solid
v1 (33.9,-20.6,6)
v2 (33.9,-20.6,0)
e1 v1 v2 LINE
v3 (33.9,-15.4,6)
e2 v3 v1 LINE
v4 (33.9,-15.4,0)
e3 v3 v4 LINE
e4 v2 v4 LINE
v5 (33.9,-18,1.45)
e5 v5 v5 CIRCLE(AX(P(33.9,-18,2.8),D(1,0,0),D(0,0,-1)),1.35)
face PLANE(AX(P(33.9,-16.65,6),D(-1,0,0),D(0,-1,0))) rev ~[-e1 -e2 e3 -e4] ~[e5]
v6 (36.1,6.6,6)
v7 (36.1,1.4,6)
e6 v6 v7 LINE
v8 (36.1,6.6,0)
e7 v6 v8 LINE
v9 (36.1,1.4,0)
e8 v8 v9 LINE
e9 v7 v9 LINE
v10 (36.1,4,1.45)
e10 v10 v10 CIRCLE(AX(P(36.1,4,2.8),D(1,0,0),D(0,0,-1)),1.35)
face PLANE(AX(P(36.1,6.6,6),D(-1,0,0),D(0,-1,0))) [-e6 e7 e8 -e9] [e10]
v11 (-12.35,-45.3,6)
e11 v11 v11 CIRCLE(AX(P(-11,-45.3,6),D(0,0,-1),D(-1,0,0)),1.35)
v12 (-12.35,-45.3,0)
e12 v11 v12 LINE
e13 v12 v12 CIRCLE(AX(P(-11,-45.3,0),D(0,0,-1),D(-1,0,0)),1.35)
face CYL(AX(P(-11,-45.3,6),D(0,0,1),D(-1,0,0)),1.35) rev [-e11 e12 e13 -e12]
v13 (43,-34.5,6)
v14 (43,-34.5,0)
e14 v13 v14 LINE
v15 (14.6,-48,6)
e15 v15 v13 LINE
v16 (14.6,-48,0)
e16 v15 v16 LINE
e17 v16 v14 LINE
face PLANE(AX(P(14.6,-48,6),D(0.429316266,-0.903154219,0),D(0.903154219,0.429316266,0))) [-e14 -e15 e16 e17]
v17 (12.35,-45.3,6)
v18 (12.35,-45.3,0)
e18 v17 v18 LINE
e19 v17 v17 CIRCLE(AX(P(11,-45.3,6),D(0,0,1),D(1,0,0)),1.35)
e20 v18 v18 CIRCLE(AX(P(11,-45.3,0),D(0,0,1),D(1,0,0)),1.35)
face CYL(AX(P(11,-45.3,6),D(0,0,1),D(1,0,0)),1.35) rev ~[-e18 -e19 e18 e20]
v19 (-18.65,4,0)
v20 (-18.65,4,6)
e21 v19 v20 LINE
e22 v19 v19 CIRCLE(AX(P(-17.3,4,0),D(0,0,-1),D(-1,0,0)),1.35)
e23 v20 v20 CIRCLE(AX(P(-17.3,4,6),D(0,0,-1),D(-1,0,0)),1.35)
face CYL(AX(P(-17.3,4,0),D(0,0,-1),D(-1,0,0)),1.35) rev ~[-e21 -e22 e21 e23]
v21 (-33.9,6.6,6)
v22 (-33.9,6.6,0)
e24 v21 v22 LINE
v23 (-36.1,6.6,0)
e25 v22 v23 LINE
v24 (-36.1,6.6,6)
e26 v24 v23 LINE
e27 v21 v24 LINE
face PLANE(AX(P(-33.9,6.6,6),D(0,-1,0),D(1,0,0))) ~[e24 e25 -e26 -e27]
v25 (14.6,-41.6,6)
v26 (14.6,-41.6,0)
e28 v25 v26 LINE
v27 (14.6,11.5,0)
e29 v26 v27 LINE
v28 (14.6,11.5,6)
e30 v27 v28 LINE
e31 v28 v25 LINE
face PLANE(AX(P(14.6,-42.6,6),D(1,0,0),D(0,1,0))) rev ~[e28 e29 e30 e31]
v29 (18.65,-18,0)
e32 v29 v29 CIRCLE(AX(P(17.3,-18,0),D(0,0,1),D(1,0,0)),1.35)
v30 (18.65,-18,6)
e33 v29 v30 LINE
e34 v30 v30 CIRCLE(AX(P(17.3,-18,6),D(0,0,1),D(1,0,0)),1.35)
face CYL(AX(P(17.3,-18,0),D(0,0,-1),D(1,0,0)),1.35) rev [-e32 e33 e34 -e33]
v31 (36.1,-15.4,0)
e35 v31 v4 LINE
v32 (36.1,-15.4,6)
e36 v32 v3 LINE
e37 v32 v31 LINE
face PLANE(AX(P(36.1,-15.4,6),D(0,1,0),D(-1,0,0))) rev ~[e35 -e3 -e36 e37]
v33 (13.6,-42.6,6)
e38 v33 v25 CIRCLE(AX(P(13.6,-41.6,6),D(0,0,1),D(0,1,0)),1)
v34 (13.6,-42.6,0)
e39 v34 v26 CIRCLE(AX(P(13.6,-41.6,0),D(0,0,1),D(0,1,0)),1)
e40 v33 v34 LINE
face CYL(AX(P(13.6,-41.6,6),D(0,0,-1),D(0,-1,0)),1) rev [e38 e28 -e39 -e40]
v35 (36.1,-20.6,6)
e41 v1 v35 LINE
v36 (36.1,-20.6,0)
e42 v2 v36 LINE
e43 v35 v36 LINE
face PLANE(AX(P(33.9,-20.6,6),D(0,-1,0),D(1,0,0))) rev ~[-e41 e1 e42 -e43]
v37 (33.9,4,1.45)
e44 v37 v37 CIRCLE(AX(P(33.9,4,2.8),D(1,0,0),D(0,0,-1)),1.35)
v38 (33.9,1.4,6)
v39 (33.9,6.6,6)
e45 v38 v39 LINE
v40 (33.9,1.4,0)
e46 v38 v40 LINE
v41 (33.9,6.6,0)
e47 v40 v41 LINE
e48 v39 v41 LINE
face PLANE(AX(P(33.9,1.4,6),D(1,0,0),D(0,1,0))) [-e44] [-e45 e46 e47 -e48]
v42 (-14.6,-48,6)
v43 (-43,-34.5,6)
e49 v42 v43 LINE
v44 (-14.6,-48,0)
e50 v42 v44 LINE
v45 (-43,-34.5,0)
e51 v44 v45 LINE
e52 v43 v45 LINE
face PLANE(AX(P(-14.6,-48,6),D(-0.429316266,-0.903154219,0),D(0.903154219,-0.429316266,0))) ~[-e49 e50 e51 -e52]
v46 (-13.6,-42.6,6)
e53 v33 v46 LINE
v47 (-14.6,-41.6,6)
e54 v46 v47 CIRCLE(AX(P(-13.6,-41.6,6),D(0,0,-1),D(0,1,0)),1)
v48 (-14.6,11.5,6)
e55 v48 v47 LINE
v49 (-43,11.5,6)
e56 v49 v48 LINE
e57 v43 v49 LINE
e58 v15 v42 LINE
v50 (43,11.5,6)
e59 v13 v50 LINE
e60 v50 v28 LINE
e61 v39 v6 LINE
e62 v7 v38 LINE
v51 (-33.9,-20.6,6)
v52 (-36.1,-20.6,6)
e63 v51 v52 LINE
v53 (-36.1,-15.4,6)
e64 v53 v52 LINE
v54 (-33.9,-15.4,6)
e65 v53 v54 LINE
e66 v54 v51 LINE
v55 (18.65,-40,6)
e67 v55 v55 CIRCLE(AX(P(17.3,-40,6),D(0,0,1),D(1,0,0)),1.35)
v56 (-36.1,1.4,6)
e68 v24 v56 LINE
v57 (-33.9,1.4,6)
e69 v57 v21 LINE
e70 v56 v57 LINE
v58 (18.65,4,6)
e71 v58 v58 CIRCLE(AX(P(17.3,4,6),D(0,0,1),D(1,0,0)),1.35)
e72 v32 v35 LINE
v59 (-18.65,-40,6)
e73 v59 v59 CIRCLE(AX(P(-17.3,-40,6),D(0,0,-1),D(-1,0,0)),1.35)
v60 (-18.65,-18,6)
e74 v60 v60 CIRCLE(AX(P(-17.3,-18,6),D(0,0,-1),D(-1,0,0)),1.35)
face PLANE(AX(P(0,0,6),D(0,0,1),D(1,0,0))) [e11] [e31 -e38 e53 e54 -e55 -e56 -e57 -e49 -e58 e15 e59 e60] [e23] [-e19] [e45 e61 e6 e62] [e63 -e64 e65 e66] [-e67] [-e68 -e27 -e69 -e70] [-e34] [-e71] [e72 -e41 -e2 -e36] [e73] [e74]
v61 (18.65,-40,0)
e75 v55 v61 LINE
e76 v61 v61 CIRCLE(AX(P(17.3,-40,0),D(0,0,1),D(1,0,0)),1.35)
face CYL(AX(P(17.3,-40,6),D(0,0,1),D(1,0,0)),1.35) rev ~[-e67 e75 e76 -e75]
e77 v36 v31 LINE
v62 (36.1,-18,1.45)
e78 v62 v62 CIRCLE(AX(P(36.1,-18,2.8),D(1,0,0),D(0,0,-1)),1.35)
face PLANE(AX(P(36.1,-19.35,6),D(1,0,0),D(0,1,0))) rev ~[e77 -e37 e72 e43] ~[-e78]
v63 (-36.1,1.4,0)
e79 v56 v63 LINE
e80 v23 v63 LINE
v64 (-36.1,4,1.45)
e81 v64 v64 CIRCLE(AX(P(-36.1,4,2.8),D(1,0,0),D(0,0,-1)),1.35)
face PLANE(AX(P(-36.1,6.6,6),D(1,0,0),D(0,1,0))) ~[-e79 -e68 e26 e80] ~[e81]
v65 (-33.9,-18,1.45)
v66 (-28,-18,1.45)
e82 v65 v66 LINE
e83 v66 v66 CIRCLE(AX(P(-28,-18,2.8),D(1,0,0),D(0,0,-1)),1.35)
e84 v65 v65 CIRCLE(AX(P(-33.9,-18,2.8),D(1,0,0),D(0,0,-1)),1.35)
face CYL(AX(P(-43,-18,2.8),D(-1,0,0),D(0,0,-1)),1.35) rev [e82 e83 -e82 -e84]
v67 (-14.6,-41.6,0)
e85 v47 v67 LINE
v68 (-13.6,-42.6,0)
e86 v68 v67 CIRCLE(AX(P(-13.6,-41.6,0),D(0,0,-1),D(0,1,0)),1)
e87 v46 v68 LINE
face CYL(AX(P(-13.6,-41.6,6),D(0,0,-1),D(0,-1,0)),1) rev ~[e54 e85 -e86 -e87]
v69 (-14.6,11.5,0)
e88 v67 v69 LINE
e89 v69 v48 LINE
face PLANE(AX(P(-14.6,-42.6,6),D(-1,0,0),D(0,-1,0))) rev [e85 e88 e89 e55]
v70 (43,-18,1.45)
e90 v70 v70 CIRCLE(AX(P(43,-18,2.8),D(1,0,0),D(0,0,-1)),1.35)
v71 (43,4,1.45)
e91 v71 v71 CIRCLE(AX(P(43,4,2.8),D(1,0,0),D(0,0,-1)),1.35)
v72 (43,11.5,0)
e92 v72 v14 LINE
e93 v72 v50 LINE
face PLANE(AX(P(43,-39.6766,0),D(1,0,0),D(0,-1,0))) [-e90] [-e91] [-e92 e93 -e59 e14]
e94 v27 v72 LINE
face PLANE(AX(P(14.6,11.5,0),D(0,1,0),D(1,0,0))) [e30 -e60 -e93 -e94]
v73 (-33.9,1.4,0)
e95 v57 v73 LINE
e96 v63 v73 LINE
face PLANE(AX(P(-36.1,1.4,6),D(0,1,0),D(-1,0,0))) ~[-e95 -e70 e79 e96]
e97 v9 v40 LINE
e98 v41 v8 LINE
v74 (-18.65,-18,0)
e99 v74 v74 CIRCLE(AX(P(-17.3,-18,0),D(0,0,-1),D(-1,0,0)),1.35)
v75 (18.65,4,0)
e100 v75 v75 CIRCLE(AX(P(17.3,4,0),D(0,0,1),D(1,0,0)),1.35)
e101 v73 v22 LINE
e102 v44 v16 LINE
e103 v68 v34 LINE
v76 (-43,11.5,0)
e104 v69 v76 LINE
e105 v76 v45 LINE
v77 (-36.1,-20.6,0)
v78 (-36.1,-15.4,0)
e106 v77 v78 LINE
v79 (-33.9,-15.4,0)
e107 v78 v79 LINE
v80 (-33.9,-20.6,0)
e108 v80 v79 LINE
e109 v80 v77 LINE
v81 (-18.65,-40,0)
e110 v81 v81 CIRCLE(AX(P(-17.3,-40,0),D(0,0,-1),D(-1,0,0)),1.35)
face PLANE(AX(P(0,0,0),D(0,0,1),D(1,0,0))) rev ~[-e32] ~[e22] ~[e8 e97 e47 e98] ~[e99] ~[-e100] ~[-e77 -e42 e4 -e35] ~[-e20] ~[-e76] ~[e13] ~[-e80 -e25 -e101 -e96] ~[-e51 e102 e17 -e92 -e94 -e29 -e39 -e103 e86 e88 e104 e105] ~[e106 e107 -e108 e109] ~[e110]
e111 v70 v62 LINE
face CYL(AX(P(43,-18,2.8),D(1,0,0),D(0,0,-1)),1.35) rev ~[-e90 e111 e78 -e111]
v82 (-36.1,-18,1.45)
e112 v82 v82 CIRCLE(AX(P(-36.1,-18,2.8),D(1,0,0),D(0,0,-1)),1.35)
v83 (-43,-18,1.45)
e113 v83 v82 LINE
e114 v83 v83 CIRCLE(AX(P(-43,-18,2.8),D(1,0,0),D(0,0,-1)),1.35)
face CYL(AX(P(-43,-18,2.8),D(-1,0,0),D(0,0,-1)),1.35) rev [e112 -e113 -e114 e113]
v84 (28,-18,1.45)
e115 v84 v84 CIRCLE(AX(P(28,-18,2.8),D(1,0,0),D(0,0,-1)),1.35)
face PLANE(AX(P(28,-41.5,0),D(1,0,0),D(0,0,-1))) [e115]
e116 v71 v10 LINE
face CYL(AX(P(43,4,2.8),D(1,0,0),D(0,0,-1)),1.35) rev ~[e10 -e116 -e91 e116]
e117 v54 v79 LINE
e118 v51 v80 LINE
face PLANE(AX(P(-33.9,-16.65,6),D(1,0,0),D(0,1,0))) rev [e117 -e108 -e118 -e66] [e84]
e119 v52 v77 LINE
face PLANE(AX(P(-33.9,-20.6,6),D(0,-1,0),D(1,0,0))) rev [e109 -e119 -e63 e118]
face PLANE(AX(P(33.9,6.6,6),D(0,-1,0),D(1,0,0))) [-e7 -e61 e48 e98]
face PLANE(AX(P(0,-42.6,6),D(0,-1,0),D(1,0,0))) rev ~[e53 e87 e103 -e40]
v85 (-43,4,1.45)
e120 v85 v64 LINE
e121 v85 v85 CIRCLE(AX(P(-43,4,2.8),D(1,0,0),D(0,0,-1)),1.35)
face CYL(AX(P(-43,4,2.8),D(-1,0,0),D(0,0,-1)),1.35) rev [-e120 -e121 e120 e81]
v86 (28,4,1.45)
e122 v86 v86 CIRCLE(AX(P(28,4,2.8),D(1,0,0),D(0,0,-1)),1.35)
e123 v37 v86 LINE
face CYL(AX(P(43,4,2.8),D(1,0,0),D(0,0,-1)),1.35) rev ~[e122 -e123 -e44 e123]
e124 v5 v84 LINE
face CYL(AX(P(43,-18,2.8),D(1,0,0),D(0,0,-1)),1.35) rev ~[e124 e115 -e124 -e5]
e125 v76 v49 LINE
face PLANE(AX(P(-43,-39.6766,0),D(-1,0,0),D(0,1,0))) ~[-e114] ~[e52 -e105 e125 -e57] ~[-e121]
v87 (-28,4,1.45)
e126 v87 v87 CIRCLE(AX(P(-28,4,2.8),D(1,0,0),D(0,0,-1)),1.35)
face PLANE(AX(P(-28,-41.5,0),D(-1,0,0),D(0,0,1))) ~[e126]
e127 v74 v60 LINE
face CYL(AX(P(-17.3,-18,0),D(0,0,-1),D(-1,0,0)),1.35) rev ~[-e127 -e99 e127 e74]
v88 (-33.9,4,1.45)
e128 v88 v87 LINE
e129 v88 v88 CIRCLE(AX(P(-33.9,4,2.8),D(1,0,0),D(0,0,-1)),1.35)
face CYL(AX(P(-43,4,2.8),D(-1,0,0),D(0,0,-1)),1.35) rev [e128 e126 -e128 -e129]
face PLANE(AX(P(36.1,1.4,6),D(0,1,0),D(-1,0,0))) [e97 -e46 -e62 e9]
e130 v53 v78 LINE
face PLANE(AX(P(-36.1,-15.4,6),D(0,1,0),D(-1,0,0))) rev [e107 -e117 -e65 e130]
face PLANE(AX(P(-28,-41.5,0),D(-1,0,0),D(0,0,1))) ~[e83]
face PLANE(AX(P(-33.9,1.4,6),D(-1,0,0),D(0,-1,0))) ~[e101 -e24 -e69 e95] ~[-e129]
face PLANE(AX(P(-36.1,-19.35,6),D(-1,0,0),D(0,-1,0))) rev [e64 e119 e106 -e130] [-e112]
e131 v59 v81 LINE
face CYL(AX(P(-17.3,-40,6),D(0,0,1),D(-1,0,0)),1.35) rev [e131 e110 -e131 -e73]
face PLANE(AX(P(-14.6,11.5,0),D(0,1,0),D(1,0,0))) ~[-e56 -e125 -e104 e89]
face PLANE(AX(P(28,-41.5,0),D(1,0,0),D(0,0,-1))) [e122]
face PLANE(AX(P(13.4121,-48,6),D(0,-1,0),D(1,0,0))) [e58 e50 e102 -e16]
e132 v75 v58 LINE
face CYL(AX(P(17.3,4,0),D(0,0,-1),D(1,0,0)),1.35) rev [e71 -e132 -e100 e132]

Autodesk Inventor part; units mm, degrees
ref_plane "YZ Plane" through (0, 0, 0) normal (1, 0, 0) x (0, 1, 0)
ref_plane "XZ Plane" through (0, 0, 0) normal (0, 1, 0) x (-1, 0, 0)
ref_plane "XY Plane" through (0, 0, 0) normal (0, 0, 1) x (1, 0, 0)
ref_plane "작업 평면1" through (0, 0, 0) normal (0, 0, 1) x (1, 0, 0)
sketch "스케치1" plane through (0, 0, 0) normal (0, 0, 1) x (1, 0, 0)
  arc A0 (20.1, 4.5766) -> (19.5808, 6.2636) centre (17.1, 4.5766) ccw projected
  line L0 (19.5808, 6.2636) -> (15.5953, 12.1246) projected
  arc A1 (15.5953, 12.1246) -> (13.9414, 13) centre (13.9414, 11) ccw projected
  line L1 (13, 13) -> (13.9414, 13) projected
  arc A2 (14.5, 11.5) -> (13, 13) centre (13, 11.5) ccw projected
  line L2 (14.5, -41.5) -> (14.5, 11.5) projected
  arc A3 (13.5, -42.5) -> (14.5, -41.5) centre (13.5, -41.5) ccw projected
  line L3 (-13.5, -42.5) -> (13.5, -42.5) projected
  arc A4 (-14.5, -41.5) -> (-13.5, -42.5) centre (-13.5, -41.5) ccw projected
  line L4 (-14.5, 11.5) -> (-14.5, -41.5) projected
  arc A5 (-13, 13) -> (-14.5, 11.5) centre (-13, 11.5) ccw projected
  line L5 (-13.9414, 13) -> (-13, 13) projected
  arc A6 (-13.9414, 13) -> (-15.5953, 12.1246) centre (-13.9414, 11) ccw projected
  line L6 (-15.5953, 12.1246) -> (-19.5808, 6.2636) projected
  arc A7 (-19.5808, 6.2636) -> (-20.1, 4.5766) centre (-17.1, 4.5766) ccw projected
  line L7 (-20.1, 4.5766) -> (-20.1, -39.6766) projected
  arc A8 (-20.1, -39.6766) -> (-19.5808, -41.3636) centre (-17.1, -39.6766) ccw projected
  line L8 (-19.5808, -41.3636) -> (-15.8929, -46.7869) projected
  arc A9 (-15.8929, -46.7869) -> (-13.4121, -48.1) centre (-13.4121, -45.1) ccw projected
  line L9 (-13.4121, -48.1) -> (13.4121, -48.1) projected
  arc A10 (13.4121, -48.1) -> (15.8929, -46.7869) centre (13.4121, -45.1) ccw projected
  line L10 (15.8929, -46.7869) -> (19.5808, -41.3636) projected
  arc A11 (19.5808, -41.3636) -> (20.1, -39.6766) centre (17.1, -39.6766) ccw projected
  line L11 (20.1, -39.6766) -> (20.1, 4.5766) projected
  circle A12 centre (-17.3, 4) radius 1.35 projected
  circle A13 centre (-17.3, -18) radius 1.35 projected
  circle A14 centre (-11, -45.3) radius 1.35 projected
  circle A15 centre (17.3, 4) radius 1.35 projected
  circle A16 centre (17.3, -18) radius 1.35 projected
  circle A17 centre (11, -45.3) radius 1.35 projected
  circle A18 centre (-17.3, -40) radius 1.35 projected
  circle A19 centre (17.3, -40) radius 1.35 projected
  arc A20 (14.6, 11.5) -> (12.2254, 12.9) centre (13, 11.5) ccw
  line L12 (12.2254, 12.9) -> (13.9414, 12.9)
  arc A21 (15.5126, 12.0684) -> (13.9414, 12.9) centre (13.9414, 11) ccw
  line L13 (15.5126, 12.0684) -> (15.8991, 11.5)
  line L14 (19.3671, -41.5) -> (15.8102, -46.7307)
  arc A22 (13.4121, -48) -> (15.8102, -46.7307) centre (13.4121, -45.1) ccw
  line L15 (13.4121, -48) -> (-13.4121, -48)
  arc A23 (-15.8102, -46.7307) -> (-13.4121, -48) centre (-13.4121, -45.1) ccw
  line L16 (-15.8102, -46.7307) -> (-19.4981, -41.3073)
  arc A24 (-20, -39.6766) -> (-19.4981, -41.3073) centre (-17.1, -39.6766) ccw
  line L17 (-20, -39.6766) -> (-20, 4.5766)
  arc A25 (-19.4981, 6.2073) -> (-20, 4.5766) centre (-17.1, 4.5766) ccw
  line L18 (-19.4981, 6.2073) -> (-15.5126, 12.0684)
  arc A26 (-13.9414, 12.9) -> (-15.5126, 12.0684) centre (-13.9414, 11) ccw
  line L19 (-13.9414, 12.9) -> (-12.2254, 12.9)
  arc A27 (-12.2254, 12.9) -> (-14.6, 11.5) centre (-13, 11.5) ccw
  line L20 (-14.6, 11.5) -> (-14.6, -41.5)
  arc A28 (-14.6, -41.5) -> (-13.5, -42.6) centre (-13.5, -41.5) ccw
  line L21 (-13.5, -42.6) -> (13.5, -42.6)
  arc A29 (13.5, -42.6) -> (14.6, -41.5) centre (13.5, -41.5) ccw
  line L22 (14.6, -41.5) -> (14.6, 11.5)
  line L23 (14.6, 11.5) -> (39.6, 11.5)
  line L24 (39.6, -41.5) -> (14.6, -41.5)
  line L25 (14.6, -41.5) -> (14.6, 11.5)
  circle A30 centre (17.3, 4) radius 1.35
  circle A31 centre (17.3, -18) radius 1.35
  line L26 (45.5, -39.6766) -> (45.5, -37.525) projected
  line L27 (47.5, -37.525) -> (45.5, -37.525) projected
  line L28 (47.5, -36.025) -> (47.5, -37.525) projected
  line L29 (47.5, -36.025) -> (45, -36.025) projected
  line L30 (45, -36.025) -> (45, -21.975) projected
  line L31 (47.5, -21.975) -> (45, -21.975) projected
  line L32 (47.5, -21.975) -> (47.5, -20.475) projected
  line L33 (47.5, -20.475) -> (45.5, -20.475) projected
  line L34 (45.5, -20.475) -> (45.5, -15.525) projected
  line L35 (47.5, -15.525) -> (45.5, -15.525) projected
  line L36 (47.5, -15.525) -> (47.5, -14.025) projected
  line L37 (47.5, -14.025) -> (45, -14.025) projected
  line L38 (45, -14.025) -> (45, 0.025) projected
  line L39 (47.5, 0.025) -> (45, 0.025) projected
  line L40 (47.5, 0.025) -> (47.5, 1.525) projected
  line L41 (47.5, 1.525) -> (45.5, 1.525) projected
  line L42 (45.5, 1.525) -> (45.5, 4.5766) projected
  line L43 (43, 4.5766) -> (45.5, 4.5766) projected
  line L44 (43, -39.6766) -> (43, 4.5766) projected
  line L45 (43, -39.6766) -> (45.5, -39.6766) projected
  line L46 (14.6, 11.5) -> (43, 11.5)
  line L47 (43, 11.5) -> (43, -41.5)
  line L48 (43, -41.5) -> (14.6, -41.5)
  line L49 (14.6, -41.5) -> (14.6, 11.5)
  line L50 (45.5, -19.35) -> (45.5, -16.65) projected
  line L51 (43, -19.35) -> (43, -16.65) projected
  line L52 (43, -19.35) -> (43, -16.65) projected
  line L53 (43, -19.35) -> (43, -16.65) projected
  line L54 (47.5, -18) -> (45.5, -18) projected
  line L55 (47.5, 4) -> (45.5, 4) projected
  line L56 (33.5, 1) -> (36.5, 7) construction
  line L57 (36.5, 1) -> (33.5, 7) construction
  line L58 (33.9, 1.4) -> (36.1, 6.6) construction
  point P0 (0, 0)
  point P1 (19.488, -41.5)
  point P2 (16.02, 11.5)
  dimension "d0" = 0.1
  dimension "d1" = 25
  dimension "d2" = 53
  dimension "d3" = 2.7
  dimension "d4" = 2.7
  dimension "d5" = 3
  dimension "d6" = 6
extrude "돌출4" add sketch "스케치1" along normal blind 6 contours L11 A11 L10 L24 L22 L23 L0 A0 | A0 L0 L23 L46 L47 L44 L48 L24 L10 A11 L11 | A19
sketch "스케치3" plane through (43, -41.5, 0) normal (1, 0, 0) x (0, 0, -1)
  arc A0 (-5.0808, 47.7636) -> (-5.6, 46.0766) centre (-2.6, 46.0766) ccw projected
  line L0 (-5.6, 1.8234) -> (-5.6, 46.0766) projected
  arc A1 (-5.6, 1.8234) -> (-5.0808, 0.1364) centre (-2.6, 1.8234) ccw projected
  line L1 (-1.3929, -5.2869) -> (-5.0808, 0.1364) projected
  arc A2 (-1.3929, -5.2869) -> (1.0879, -6.6) centre (1.0879, -3.6) ccw projected
  line L2 (27.9121, -6.6) -> (1.0879, -6.6) projected
  arc A3 (27.9121, -6.6) -> (30.3929, -5.2869) centre (27.9121, -3.6) ccw projected
  line L3 (34.0808, 0.1364) -> (30.3929, -5.2869) projected
  arc A4 (34.0808, 0.1364) -> (34.6, 1.8234) centre (31.6, 1.8234) ccw projected
  line L4 (34.6, 46.0766) -> (34.6, 1.8234) projected
  arc A5 (34.6, 46.0766) -> (34.0808, 47.7636) centre (31.6, 46.0766) ccw projected
  line L5 (30.0953, 53.6246) -> (34.0808, 47.7636) projected
  arc A6 (30.0953, 53.6246) -> (28.4414, 54.5) centre (28.4414, 52.5) ccw projected
  line L6 (22.15, 54.5) -> (28.4414, 54.5) projected
  arc A7 (23.65, 53) -> (22.15, 54.5) centre (22.15, 53) ccw projected
  line L7 (23.65, 53) -> (23.65, 51.5) projected
  arc A8 (23.65, 51.5) -> (26, 49.15) centre (26, 51.5) ccw projected
  line L8 (26, 49.15) -> (28, 49.15) projected
  arc A9 (29, 48.15) -> (28, 49.15) centre (28, 48.15) ccw projected
  line L9 (29, 48.15) -> (29, 5.35) projected
  arc A10 (28, 4.35) -> (29, 5.35) centre (28, 5.35) ccw projected
  line L10 (28, 4.35) -> (26, 4.35) projected
  arc A11 (26, 4.35) -> (23.65, 2) centre (26, 2) ccw projected
  line L11 (23.65, 2) -> (23.65, 0) projected
  arc A12 (22.65, -1) -> (23.65, 0) centre (22.65, 0) ccw projected
  line L12 (22.65, -1) -> (6.35, -1) projected
  arc A13 (5.35, 0) -> (6.35, -1) centre (6.35, 0) ccw projected
  line L13 (5.35, 0) -> (5.35, 2) projected
  arc A14 (5.35, 2) -> (3, 4.35) centre (3, 2) ccw projected
  line L14 (3, 4.35) -> (1, 4.35) projected
  arc A15 (0, 5.35) -> (1, 4.35) centre (1, 5.35) ccw projected
  line L15 (0, 5.35) -> (0, 48.15) projected
  arc A16 (1, 49.15) -> (0, 48.15) centre (1, 48.15) ccw projected
  line L16 (1, 49.15) -> (3, 49.15) projected
  arc A17 (3, 49.15) -> (5.35, 51.5) centre (3, 51.5) ccw projected
  line L17 (5.35, 51.5) -> (5.35, 53) projected
  arc A18 (6.85, 54.5) -> (5.35, 53) centre (6.85, 53) ccw projected
  line L18 (0.5586, 54.5) -> (6.85, 54.5) projected
  arc A19 (0.5586, 54.5) -> (-1.0953, 53.6246) centre (0.5586, 52.5) ccw projected
  line L19 (-5.0808, 47.7636) -> (-1.0953, 53.6246) projected
  circle A20 centre (31.8, 45.5) radius 1.35 projected
  circle A21 centre (31.8, 23.5) radius 1.35 projected
  circle A22 centre (25.5, -3.8) radius 1.35 projected
  circle A23 centre (-2.8, 45.5) radius 1.35 projected
  circle A24 centre (-2.8, 23.5) radius 1.35 projected
  circle A25 centre (3.5, -3.8) radius 1.35 projected
  circle A26 centre (31.8, 1.5) radius 1.35 projected
  circle A27 centre (-2.8, 1.5) radius 1.35 projected
  circle A28 centre (-2.8, 45.5) radius 1.35
  circle A29 centre (-2.8, 23.5) radius 1.35
  point P0 (0, 41.5)
extrude "돌출5" cut sketch "스케치3" against normal blind 15 contours A23 | A24
sketch "스케치4" plane through (0, 0, 6) normal (0, 0, 1) x (1, 0, 0)
  line L0 (36.1, 1.4) -> (33.9, 1.4)
  line L1 (33.9, 1.4) -> (33.9, 6.6)
  line L2 (33.9, 6.6) -> (36.1, 6.6)
  line L3 (36.1, 6.6) -> (36.1, 1.4)
  line L4 (36.1, 1.4) -> (33.9, 6.6) construction
  line L5 (33.9, 1.4) -> (36.1, 6.6) construction
  line L6 (43, -16.65) -> (28, -16.65) projected
  line L7 (43, -19.35) -> (28, -19.35) projected
  line L8 (33.9, -20.6) -> (36.1, -20.6)
  line L9 (36.1, -20.6) -> (36.1, -15.4)
  line L10 (36.1, -15.4) -> (33.9, -15.4)
  line L11 (33.9, -15.4) -> (33.9, -20.6)
  line L12 (33.9, -20.6) -> (36.1, -15.4) construction
  line L13 (36.1, -20.6) -> (33.9, -15.4) construction
  point P0 (0, 0)
  point P1 (35, 4)
  point P2 (35, -18)
  dimension "d22" = 2.2
  dimension "d23" = 5.2
  dimension "d24" = 2.2
  dimension "d25" = 5.2
extrude "돌출6" cut sketch "스케치4" against normal blind 6
sketch "스케치5" plane through (0, 0, 6) normal (0, 0, 1) x (1, 0, 0)
  line L0 (33.9, 1.4) -> (33.9, 6.6) projected
  line L1 (33.9, 6.6) -> (36.1, 6.6) projected
  line L2 (36.1, 6.6) -> (36.1, 1.4) projected
  line L3 (36.1, 1.4) -> (33.9, 1.4) projected
  line L4 (36.1, -20.6) -> (33.9, -20.6) projected
  line L5 (33.9, -20.6) -> (33.9, -15.4) projected
  line L6 (33.9, -15.4) -> (36.1, -15.4) projected
  line L7 (36.1, -15.4) -> (36.1, -20.6) projected
  line L8 (14.6, -41.5) -> (43, -41.5) projected
  line L9 (43, -41.5) -> (43, 11.5) projected
  line L10 (43, 11.5) -> (14.6, 11.5) projected
  line L11 (14.6, 11.5) -> (14.6, -41.5) projected
  circle A0 centre (17.3, 4) radius 1.35 projected
  circle A1 centre (17.3, -18) radius 1.35 projected
  line L12 (43, -41.5) -> (14.6, -41.5)
  line L13 (14.6, -41.5) -> (14.6, -34.5)
  line L14 (14.6, -34.5) -> (43, -34.5)
  line L15 (43, -34.5) -> (43, -41.5)
  point P0 (0, 0)
  dimension "d28" = 7
extrude "돌출7" cut sketch "스케치5" against normal blind 10 contours L11 L14 L9 L8
sketch "스케치7" plane through (0, 0, 6) normal (0, 0, 1) x (1, 0, 0)
  circle A0 centre (17.3, -40) radius 1.35
  circle A1 centre (11, -45.3) radius 1.35
  circle A2 centre (-11, -45.3) radius 1.35
  circle A3 centre (-17.3, -40) radius 1.35
  line L0 (-13.4121, -48.1) -> (13.4121, -48.1)
  line L1 (-13, -42.5) -> (13, -42.5)
  line L2 (20.1, -39.6766) -> (20.1, 4.5766)
  line L3 (14.5, -41) -> (14.5, 11)
  line L4 (14.6, 11.5) -> (14.6, -34.5) projected
  line L5 (14.6, -34.5) -> (43, -34.5) projected
  line L6 (20, -39.6766) -> (20, 4.5766)
  line L7 (14.6, -41) -> (14.6, 11)
  line L8 (-13, -42.6) -> (13, -42.6)
  line L9 (-13.4121, -48) -> (13.4121, -48)
  line L10 (14.6, -34.5) -> (20, -34.5)
  line L11 (20, -34.5) -> (20, -42.6)
  line L12 (14.6, -42.6) -> (14.6, -34.5)
  line L13 (14.6, -42.6) -> (0, -42.6)
  line L14 (0, -42.6) -> (0, -48)
  line L15 (0, -48) -> (14.6, -48)
  line L16 (20, -42.6) -> (14.6, -48)
  circle A4 centre (17.3, -40) radius 1.35
  circle A5 centre (11, -45.3) radius 1.35
  point P0 (0, 0)
  point P1 (41, -34.5)
  point P2 (20, -34.5)
  point P3 (13, -42.6)
  point P4 (0, -42.6)
  point P5 (13.4121, -48)
  dimension "d33" = 0.1
  dimension "d35" = 0.1
  dimension "d36" = 0.1
  dimension "d37" = 0.1
extrude "돌출8" add sketch "스케치7" against normal blind 6 contours L5 L6 L11 L16 L15 L9 L14 L8 L13 L12 L7
fillet "모깎기5" radius 1 1 edges at (14.6, -42.6, 3)
sketch "스케치8" plane through (0, 0, 6) normal (0, 0, 1) x (1, 0, 0)
  circle A0 centre (11, -45.3) radius 1.35 projected
  circle A1 centre (17.3, -40) radius 1.35 projected
  circle A2 centre (17.3, -18) radius 1.35 projected
  circle A3 centre (17.3, 4) radius 1.35 projected
  line L0 (36.1, -20.6) -> (33.9, -20.6) projected
  line L1 (33.9, -20.6) -> (33.9, -15.4) projected
  line L2 (33.9, -15.4) -> (36.1, -15.4) projected
  line L3 (36.1, -15.4) -> (36.1, -20.6) projected
  line L4 (33.9, 1.4) -> (33.9, 6.6) projected
  line L5 (33.9, 6.6) -> (36.1, 6.6) projected
  line L6 (36.1, 6.6) -> (36.1, 1.4) projected
  line L7 (36.1, 1.4) -> (33.9, 1.4) projected
  line L8 (14.6, -48) -> (20, -42.6) projected
  line L9 (20, -42.6) -> (20, -34.5) projected
  line L10 (20, -34.5) -> (43, -34.5) projected
  line L11 (43, -34.5) -> (43, 11.5) projected
  line L12 (43, 11.5) -> (14.6, 11.5) projected
  line L13 (14.6, 11.5) -> (14.6, -41.6) projected
  arc A4 (13.6, -42.6) -> (14.6, -41.6) centre (13.6, -41.6) ccw projected
  line L14 (13.6, -42.6) -> (0, -42.6) projected
  line L15 (0, -48) -> (14.6, -48) projected
  line L16 (0, -42.6) -> (0, -48) projected
  line L17 (43, -34.5) -> (19.4142, -34.5)
  line L18 (19.4142, -34.5) -> (19.4142, -43.1858)
  line L19 (14.6, -48) -> (43, -34.5)
  line L20 (19.4142, -43.1858) -> (14.6, -48)
  point P0 (0, 0)
extrude "돌출12" add sketch "스케치8" against normal blind 6 contours L8 L9 L10 L19
mirror "미러2" about plane through (0, -48, 6) normal (-1, 0, 0)
properties part number "connecting plate under body" material "PMMA 플라스틱"
